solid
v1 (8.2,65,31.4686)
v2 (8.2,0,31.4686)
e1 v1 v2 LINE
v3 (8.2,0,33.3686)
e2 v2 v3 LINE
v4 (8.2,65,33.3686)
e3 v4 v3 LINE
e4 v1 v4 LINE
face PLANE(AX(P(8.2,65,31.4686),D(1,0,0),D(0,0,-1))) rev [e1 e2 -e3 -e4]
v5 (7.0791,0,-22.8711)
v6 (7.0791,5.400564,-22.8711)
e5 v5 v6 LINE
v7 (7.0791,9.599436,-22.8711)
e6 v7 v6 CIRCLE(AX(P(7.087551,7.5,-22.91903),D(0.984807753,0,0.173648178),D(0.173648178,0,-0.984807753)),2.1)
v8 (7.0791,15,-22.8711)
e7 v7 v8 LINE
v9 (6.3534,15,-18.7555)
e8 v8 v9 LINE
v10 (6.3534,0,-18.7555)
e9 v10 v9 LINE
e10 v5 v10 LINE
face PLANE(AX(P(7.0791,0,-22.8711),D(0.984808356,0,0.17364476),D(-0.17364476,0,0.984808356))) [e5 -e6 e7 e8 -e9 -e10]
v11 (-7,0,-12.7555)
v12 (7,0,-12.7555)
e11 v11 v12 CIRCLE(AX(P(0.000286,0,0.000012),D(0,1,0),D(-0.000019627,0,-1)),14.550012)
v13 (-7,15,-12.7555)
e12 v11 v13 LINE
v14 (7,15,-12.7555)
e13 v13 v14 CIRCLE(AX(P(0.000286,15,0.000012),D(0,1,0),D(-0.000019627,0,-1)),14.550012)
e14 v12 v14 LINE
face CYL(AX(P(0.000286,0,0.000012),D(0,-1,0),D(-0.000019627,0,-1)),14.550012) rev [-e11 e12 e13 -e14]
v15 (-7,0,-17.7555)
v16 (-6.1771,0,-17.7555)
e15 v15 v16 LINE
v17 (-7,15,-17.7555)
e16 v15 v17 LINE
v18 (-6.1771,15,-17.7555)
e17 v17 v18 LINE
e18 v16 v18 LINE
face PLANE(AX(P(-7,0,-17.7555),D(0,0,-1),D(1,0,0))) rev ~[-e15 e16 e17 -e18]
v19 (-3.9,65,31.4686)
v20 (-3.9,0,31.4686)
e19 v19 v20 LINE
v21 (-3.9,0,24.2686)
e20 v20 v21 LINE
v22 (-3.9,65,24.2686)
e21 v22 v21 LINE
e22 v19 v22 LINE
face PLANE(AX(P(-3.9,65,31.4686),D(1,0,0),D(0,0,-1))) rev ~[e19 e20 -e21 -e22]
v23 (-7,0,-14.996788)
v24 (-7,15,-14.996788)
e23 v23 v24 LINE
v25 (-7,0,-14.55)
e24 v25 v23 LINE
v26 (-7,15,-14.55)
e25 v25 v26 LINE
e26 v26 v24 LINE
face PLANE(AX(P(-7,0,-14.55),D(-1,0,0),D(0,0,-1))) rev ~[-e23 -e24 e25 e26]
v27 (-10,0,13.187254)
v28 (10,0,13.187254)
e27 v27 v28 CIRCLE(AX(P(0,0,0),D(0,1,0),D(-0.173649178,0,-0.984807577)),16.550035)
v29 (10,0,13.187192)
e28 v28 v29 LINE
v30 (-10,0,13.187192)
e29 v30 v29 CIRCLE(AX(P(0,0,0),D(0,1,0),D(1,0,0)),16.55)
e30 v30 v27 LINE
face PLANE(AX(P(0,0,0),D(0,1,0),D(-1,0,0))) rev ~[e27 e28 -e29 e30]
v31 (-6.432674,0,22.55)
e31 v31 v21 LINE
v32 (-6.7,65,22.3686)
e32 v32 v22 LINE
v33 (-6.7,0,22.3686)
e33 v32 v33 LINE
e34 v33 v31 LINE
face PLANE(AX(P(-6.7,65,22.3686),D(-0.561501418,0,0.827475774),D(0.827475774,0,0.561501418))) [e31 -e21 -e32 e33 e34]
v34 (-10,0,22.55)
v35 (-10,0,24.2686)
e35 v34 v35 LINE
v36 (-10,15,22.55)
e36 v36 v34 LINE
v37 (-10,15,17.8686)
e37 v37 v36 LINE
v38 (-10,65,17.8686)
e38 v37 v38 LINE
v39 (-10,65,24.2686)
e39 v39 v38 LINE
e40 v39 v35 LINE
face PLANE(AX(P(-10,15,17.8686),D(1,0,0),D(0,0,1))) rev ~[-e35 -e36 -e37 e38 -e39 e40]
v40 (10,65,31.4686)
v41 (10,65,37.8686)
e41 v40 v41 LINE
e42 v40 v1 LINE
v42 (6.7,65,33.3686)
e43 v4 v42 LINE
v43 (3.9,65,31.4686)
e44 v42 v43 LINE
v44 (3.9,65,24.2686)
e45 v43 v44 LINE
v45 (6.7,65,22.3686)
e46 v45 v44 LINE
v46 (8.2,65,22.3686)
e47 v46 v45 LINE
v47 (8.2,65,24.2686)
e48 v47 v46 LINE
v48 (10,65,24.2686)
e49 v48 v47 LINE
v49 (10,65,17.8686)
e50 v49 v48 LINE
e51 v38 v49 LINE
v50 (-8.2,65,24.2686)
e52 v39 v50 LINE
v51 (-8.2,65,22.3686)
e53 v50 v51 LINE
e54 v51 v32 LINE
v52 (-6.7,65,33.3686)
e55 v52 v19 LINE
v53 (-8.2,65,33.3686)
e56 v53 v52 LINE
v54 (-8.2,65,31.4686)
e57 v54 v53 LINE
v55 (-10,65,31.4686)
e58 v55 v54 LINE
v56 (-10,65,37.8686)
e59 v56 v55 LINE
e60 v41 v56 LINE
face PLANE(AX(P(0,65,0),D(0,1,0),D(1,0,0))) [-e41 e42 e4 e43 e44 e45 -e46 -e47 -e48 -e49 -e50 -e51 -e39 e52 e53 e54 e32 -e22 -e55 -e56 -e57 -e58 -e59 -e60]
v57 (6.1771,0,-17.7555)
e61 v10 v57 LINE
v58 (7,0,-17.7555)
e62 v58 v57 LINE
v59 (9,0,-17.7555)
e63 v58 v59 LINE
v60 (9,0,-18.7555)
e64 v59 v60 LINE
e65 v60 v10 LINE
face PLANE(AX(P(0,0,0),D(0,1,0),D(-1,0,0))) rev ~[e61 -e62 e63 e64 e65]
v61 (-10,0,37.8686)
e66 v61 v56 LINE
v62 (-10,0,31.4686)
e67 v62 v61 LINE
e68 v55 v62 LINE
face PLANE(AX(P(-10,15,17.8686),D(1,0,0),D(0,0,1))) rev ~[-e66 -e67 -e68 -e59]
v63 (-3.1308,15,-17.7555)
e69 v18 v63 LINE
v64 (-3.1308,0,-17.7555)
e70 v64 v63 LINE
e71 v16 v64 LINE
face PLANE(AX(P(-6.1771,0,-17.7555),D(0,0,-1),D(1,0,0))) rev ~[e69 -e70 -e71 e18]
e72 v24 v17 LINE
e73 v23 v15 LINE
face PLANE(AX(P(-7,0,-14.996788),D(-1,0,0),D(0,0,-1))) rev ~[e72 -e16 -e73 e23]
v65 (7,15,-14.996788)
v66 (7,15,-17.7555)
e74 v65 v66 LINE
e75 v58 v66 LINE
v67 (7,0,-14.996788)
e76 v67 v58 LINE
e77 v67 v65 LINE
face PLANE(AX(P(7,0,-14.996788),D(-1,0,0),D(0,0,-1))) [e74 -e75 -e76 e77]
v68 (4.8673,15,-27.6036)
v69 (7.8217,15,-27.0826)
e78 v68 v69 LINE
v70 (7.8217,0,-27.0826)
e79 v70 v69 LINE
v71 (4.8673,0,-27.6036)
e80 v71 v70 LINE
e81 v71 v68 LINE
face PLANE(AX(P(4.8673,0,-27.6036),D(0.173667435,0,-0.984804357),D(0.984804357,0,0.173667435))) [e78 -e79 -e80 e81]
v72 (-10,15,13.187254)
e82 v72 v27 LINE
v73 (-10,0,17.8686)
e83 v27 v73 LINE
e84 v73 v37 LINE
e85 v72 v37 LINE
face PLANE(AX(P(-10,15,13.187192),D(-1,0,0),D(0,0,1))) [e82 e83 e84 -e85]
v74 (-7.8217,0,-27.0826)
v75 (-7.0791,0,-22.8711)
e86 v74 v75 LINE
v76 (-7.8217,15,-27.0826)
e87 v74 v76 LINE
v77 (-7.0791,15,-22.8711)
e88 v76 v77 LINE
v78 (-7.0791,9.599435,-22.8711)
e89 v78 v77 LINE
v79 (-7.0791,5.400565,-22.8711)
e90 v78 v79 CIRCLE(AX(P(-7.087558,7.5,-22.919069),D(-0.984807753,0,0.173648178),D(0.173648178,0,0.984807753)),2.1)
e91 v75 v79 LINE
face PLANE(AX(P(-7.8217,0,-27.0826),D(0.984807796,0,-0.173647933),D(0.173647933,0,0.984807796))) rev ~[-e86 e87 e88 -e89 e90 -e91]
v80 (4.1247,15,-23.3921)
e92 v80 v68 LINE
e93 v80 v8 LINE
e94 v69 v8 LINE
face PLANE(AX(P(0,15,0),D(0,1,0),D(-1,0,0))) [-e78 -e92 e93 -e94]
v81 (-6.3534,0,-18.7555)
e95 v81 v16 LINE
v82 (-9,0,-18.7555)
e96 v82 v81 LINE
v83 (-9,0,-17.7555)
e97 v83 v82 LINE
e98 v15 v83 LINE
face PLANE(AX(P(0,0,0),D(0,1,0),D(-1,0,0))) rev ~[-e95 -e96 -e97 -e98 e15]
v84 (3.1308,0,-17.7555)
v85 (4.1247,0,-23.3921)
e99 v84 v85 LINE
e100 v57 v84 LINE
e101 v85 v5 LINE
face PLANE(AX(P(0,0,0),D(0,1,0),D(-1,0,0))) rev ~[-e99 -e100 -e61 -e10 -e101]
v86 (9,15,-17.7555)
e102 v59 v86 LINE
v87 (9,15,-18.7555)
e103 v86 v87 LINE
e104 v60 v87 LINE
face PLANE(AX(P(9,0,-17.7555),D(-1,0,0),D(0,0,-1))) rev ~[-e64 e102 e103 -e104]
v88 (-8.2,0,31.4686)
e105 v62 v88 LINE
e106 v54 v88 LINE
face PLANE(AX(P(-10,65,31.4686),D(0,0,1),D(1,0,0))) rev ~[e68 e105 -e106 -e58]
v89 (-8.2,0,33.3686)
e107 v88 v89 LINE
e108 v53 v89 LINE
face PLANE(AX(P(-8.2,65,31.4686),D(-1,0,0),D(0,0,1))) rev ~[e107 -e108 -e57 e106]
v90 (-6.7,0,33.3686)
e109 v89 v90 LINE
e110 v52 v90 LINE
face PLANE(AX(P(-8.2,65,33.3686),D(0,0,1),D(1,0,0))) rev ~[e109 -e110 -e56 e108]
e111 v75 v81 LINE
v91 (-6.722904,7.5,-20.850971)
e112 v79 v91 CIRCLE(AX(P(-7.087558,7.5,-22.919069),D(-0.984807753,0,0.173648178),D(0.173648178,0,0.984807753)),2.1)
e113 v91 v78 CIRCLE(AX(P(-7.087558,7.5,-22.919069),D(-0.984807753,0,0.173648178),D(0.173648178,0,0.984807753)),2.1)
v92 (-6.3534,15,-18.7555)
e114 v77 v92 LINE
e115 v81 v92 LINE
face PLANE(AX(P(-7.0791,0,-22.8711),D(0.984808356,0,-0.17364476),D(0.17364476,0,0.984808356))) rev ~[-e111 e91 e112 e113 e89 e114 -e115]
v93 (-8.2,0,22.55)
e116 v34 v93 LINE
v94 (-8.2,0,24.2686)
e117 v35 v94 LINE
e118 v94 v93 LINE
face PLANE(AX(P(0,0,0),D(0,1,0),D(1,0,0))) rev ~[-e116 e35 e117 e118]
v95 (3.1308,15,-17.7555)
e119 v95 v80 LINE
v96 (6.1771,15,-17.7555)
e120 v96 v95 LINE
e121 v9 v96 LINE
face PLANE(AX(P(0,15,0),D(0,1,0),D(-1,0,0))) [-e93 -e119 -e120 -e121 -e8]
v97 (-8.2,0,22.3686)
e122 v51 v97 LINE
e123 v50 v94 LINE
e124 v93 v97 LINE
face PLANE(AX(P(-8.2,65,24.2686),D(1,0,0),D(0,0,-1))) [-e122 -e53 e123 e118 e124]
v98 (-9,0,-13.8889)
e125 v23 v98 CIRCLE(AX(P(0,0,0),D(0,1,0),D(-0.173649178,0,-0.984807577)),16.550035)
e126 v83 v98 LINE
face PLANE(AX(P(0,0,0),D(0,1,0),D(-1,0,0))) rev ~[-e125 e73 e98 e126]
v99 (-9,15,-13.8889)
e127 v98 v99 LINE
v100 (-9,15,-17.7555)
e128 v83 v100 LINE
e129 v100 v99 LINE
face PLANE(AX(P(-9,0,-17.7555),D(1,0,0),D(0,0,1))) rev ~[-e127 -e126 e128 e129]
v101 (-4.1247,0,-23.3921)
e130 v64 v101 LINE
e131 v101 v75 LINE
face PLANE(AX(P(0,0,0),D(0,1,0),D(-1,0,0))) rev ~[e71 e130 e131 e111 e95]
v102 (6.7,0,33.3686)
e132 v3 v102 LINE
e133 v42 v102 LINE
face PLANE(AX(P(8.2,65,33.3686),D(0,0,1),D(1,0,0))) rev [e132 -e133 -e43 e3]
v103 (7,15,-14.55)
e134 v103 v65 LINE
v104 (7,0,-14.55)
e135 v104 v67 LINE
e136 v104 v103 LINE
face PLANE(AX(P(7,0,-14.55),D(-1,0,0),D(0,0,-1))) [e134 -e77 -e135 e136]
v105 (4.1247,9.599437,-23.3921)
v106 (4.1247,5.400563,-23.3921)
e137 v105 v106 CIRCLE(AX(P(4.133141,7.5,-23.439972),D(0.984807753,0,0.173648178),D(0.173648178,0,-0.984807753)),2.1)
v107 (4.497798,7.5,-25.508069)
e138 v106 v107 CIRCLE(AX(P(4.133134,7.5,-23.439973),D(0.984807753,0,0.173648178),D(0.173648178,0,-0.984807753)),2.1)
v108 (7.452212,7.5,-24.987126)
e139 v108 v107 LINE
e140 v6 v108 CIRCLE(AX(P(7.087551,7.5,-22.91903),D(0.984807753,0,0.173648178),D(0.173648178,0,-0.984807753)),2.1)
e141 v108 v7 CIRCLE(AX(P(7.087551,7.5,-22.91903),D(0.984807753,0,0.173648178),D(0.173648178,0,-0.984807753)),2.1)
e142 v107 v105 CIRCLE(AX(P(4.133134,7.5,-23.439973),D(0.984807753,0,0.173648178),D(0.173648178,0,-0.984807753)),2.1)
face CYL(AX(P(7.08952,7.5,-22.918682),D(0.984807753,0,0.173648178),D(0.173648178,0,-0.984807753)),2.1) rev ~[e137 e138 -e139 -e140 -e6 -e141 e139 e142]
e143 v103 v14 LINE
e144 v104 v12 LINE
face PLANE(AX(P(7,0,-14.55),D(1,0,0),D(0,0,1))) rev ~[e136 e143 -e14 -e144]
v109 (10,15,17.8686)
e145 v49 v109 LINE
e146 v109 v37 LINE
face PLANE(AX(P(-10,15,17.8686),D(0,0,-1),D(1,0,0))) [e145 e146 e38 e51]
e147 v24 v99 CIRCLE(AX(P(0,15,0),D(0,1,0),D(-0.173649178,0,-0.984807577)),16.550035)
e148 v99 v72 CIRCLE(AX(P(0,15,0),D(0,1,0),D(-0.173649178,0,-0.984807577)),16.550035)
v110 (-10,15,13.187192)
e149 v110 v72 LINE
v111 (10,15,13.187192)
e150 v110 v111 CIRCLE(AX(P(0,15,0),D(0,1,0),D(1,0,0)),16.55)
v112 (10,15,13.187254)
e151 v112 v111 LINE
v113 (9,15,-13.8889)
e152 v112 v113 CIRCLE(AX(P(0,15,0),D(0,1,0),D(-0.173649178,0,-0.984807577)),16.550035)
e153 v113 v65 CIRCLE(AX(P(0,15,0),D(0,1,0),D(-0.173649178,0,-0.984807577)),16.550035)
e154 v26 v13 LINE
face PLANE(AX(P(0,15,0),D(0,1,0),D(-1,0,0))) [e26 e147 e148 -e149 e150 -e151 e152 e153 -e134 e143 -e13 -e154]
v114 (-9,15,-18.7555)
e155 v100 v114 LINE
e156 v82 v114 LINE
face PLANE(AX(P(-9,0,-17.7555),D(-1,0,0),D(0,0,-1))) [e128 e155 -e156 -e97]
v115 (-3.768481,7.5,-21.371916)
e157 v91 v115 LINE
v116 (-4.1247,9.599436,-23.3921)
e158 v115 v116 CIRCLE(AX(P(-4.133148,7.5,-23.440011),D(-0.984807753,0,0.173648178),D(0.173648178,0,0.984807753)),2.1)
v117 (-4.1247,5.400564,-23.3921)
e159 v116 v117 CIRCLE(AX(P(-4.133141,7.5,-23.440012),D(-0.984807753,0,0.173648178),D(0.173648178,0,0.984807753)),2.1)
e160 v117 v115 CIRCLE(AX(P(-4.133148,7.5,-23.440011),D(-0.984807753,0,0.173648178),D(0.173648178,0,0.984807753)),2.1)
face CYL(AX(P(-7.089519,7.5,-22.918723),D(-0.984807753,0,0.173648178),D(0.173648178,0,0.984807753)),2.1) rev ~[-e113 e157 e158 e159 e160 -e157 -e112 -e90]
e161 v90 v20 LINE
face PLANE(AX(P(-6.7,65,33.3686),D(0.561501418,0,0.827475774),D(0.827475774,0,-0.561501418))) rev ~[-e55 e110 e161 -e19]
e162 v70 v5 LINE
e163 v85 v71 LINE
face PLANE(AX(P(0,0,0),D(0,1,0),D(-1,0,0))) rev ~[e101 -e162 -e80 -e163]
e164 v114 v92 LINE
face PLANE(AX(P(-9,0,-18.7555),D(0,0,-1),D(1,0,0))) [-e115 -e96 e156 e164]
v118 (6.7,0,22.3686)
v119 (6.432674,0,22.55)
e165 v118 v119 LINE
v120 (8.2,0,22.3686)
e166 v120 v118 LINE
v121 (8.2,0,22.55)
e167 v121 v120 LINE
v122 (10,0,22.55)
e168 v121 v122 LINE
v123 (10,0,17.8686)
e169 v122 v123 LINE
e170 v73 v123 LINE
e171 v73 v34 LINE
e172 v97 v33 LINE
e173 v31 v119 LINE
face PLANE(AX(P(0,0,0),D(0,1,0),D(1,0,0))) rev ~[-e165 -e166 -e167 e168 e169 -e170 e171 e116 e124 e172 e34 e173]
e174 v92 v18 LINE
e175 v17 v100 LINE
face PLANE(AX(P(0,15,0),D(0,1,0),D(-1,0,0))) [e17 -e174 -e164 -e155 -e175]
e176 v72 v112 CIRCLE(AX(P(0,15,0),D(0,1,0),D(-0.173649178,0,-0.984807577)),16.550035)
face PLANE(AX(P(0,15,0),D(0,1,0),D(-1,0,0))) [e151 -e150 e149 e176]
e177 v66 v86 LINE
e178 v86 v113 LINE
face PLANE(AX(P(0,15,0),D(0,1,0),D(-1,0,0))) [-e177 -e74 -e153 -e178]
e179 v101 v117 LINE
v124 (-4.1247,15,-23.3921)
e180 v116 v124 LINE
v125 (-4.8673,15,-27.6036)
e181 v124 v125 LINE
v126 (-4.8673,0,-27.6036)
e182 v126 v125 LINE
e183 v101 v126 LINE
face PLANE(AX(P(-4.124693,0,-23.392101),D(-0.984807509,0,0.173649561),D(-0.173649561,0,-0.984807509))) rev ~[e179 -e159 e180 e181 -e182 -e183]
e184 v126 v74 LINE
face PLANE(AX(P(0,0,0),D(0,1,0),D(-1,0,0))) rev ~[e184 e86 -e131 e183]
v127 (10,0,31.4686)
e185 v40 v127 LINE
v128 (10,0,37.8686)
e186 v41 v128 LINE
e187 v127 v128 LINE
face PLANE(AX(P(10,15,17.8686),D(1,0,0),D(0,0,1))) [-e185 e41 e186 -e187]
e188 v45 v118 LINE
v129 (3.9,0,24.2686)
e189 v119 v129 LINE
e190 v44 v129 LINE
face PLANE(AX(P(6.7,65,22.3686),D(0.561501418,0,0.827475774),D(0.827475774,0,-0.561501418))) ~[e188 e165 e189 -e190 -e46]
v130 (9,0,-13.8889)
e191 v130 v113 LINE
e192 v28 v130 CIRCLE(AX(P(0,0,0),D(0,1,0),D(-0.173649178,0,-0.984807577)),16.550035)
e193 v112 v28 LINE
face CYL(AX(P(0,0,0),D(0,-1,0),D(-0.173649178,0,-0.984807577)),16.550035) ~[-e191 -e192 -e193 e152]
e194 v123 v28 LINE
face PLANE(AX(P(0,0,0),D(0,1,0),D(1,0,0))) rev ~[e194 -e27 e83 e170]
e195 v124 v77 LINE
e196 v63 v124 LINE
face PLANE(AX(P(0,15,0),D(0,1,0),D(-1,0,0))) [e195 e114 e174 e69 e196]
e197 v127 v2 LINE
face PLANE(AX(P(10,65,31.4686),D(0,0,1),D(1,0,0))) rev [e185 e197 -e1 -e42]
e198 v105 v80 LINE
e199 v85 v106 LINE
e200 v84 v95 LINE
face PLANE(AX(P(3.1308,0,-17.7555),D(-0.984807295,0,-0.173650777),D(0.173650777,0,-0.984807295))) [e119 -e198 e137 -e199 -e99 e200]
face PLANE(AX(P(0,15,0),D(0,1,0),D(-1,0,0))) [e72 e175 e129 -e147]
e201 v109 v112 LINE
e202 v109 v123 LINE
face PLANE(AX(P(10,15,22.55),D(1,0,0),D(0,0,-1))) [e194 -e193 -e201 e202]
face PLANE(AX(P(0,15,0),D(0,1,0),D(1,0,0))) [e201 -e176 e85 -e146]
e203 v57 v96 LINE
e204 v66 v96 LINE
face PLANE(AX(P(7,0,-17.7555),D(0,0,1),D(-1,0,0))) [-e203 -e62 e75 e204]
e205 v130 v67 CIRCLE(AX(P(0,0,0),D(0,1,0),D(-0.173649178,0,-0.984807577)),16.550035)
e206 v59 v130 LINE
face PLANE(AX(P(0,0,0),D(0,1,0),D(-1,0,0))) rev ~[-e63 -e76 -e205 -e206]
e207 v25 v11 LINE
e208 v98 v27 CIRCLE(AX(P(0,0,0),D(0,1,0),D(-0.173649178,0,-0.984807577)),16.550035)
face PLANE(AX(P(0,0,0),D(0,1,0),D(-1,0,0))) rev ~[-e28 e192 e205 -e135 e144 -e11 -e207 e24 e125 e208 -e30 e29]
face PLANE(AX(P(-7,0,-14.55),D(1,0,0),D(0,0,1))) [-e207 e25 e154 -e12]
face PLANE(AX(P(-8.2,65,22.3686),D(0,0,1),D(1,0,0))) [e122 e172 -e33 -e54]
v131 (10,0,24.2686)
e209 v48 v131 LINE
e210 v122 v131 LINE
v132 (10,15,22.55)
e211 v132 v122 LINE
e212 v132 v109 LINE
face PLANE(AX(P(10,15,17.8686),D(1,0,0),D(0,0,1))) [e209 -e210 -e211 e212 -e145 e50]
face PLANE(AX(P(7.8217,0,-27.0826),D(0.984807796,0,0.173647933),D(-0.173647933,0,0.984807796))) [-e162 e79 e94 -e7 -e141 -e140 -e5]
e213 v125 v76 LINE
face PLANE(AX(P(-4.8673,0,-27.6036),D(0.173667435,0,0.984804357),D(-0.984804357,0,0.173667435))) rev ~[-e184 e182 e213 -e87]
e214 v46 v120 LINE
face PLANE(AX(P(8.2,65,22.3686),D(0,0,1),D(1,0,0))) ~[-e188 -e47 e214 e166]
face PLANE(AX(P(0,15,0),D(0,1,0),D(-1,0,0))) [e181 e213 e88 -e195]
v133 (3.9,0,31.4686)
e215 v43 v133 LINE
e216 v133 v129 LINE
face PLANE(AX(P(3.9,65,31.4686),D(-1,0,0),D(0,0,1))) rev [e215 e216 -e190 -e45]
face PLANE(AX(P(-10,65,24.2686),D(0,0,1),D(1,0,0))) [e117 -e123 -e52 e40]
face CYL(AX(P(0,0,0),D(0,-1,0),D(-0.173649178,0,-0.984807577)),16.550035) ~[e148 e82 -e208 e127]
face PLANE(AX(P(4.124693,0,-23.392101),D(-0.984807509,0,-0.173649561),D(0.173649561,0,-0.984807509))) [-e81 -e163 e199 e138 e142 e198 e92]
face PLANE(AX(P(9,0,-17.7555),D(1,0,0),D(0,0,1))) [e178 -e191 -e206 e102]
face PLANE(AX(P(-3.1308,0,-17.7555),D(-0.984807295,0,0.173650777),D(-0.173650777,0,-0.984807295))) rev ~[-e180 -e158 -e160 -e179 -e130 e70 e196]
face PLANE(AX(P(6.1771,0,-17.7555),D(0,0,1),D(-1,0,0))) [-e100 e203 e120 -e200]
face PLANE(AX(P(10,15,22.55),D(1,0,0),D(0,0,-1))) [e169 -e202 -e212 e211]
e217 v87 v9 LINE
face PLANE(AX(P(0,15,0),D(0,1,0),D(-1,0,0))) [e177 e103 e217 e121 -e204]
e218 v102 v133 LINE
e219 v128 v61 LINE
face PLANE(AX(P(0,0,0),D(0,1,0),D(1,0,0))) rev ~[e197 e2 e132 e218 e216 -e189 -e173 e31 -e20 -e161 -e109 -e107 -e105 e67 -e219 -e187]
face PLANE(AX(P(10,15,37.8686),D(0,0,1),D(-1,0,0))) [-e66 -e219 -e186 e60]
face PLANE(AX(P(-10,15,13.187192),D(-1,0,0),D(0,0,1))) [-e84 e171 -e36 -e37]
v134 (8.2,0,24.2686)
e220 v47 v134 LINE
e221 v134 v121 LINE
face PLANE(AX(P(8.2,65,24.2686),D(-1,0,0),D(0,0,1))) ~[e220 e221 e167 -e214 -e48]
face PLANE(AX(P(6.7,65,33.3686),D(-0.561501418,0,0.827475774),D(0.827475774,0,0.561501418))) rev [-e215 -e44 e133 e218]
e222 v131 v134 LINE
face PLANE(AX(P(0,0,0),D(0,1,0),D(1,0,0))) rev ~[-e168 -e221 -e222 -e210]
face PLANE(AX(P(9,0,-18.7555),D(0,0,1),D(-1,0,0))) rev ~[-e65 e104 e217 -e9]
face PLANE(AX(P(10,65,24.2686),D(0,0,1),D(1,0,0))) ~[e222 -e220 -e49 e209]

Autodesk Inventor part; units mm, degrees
ref_plane "YZ Plane" through (0, 0, 0) normal (1, 0, 0) x (0, 1, 0)
ref_plane "XZ Plane" through (0, 0, 0) normal (0, 1, 0) x (-1, 0, 0)
ref_plane "XY Plane" through (0, 0, 0) normal (0, 0, 1) x (1, 0, 0)
sketch "스케치1" plane through (0, 0, 0) normal (0, 1, 0) x (-1, 0, 0)
  arc A0 (0, -14.55) -> (-2.5266, -14.329) centre (0, 0) ccw
  line L0 (-2.5656, -14.55) -> (-7, -14.55)
  line L1 (7, -14.55) -> (7, -12.7555)
  line L2 (-7, -14.55) -> (-7, -12.7555)
  arc A1 (2.8739, -16.2986) -> (-2.8739, -16.2986) centre (0, 0) ccw
  line L3 (7, -12.7555) -> (7, -17.7555)
  line L4 (-7, -12.7555) -> (-7, -17.7555)
  line L5 (-7, -17.7555) -> (-9, -17.7555)
  line L6 (-9, -17.7555) -> (-9, -13.8889)
  line L7 (7, -17.7555) -> (9, -17.7555)
  line L8 (9, -17.7555) -> (9, -13.8889)
  line L9 (0, 0) -> (23.7529, 0) construction
  line L10 (0, 0) -> (23.7529, 0) construction
  line L11 (4.1247, -23.3921) -> (7.0791, -22.8711)
  line L12 (7.0791, -22.8711) -> (6.1771, -17.7555)
  line L13 (-4.1247, -23.3921) -> (-7.0791, -22.8711)
  line L14 (-7.0791, -22.8711) -> (-6.1771, -17.7555)
  line L15 (-7, -17.7555) -> (-3.1308, -17.7555)
  line L16 (-9, -17.7555) -> (-9, -18.7555)
  line L17 (-9, -18.7555) -> (-6.3534, -18.7555)
  line L18 (9, -17.7555) -> (9, -18.7555)
  line L19 (9, -18.7555) -> (6.3534, -18.7555)
  line L20 (7, -17.7555) -> (6.1771, -17.7555)
  line L21 (6.1771, -17.7555) -> (3.1308, -17.7555)
  line L22 (0, 0) -> (-2.8739, -16.2986)
  line L23 (-3.1308, -17.7555) -> (-4.1247, -23.3921)
  line L24 (0, 0) -> (2.8739, -16.2986)
  line L25 (3.1308, -17.7555) -> (4.1247, -23.3921)
  line L26 (-7, -14.55) -> (-2.5656, -14.55)
  line L27 (0, -14.55) -> (7, -14.55)
  line L28 (3.1308, -17.7555) -> (4.8673, -27.6036)
  line L29 (4.8673, -27.6036) -> (7.8217, -27.0826)
  line L30 (7.8217, -27.0826) -> (7.0791, -22.8711)
  line L31 (-3.1308, -17.7555) -> (-4.8673, -27.6036)
  line L32 (-4.8673, -27.6036) -> (-7.8217, -27.0826)
  line L33 (-7.8217, -27.0826) -> (-7.0791, -22.8711)
  point P0 (-7, -14.9967)
  dimension "d0" = 29.1
  dimension "d1" = 7
  dimension "d2" = 14
  dimension "d3" = 2
  dimension "d4" = 5
  dimension "d5" = 2
  dimension "d6" = 2
  dimension "d7" = 5
  dimension "d10" = 3
  dimension "d11" = 1
  dimension "d14" = 10
  dimension "d15" = 10
extrude "돌출1" add sketch "스케치1" along normal blind 15 contours A0 L2 L4 A1 L3 L1 | A1 L8 L7 L3 | L4 L5 L6 A1 | L7 L18 L19 L12 L20 | L15 L14 L17 L16 L5 | L12 L11 L25 L21 | L15 L23 L13 L14 | L30 L29 L28 L11 | L13 L31 L32 L33
sketch "스케치2" plane through (7.8217, 0, -27.0826) normal (0.9848, 0, 0.1736) x (0.1736, 0, -0.9848)
  line L0 (0, 0) -> (0, 15) projected
  line L1 (-8.4556, 0) -> (-8.4556, 15) projected
  line L2 (0, 15) -> (-8.4556, 15)
  circle A0 centre (-4.2278, 7.5) radius 2.1
  point P0 (-28.0294, 0)
  dimension "d16" = 4.2
extrude "돌출2" cut sketch "스케치2" against normal up to surface (3 mm away)
sketch "스케치3" plane through (-6.3534, 0, -18.7555) normal (-0.9848, 0, 0.1736) x (0.1736, 0, 0.9848)
  line L0 (1.5444, 0) -> (-8.4556, 0) projected
  line L1 (0, 0) -> (0, 15) projected
  line L2 (-8.4556, 0) -> (0, 0)
  circle A0 centre (-4.2278, 7.5) radius 2.1
  point P0 (19.5738, 0)
  dimension "d19" = 4.2
extrude "돌출3" cut sketch "스케치3" against normal up to surface (3 mm away)
sketch "스케치4" plane through (0, 15, 0) normal (0, 1, 0) x (1, 0, 0)
  circle A0 centre (0, 0) radius 16.55
  line L0 (-10, -22.55) -> (10, -22.55)
  line L1 (10, -22.55) -> (10, -10.55)
  line L2 (10, -10.55) -> (-10, -10.55)
  line L3 (-10, -10.55) -> (-10, -22.55)
  arc A1 (-9, 13.8889) -> (9, 13.8889) centre (0, 0) ccw projected
  line L4 (-10, -22.55) -> (10, -10.55) construction
  line L5 (10, -22.55) -> (-10, -10.55) construction
  point P0 (0, -16.55)
  point P1 (10, -13.1872)
  point P2 (-10, -13.1872)
  dimension "d22" = 20
  dimension "d23" = 12
extrude "돌출4" add sketch "스케치4" against normal up to surface (15 mm away) contours L1 L0 L3 A0
sketch "스케치5" plane through (0, 15, 0) normal (0, 1, 0) x (1, 0, 0)
  line L0 (-10, -13.1872) -> (-10, -22.55) projected
  line L1 (-10, -17.8686) -> (10, -17.8686)
  line L2 (10, -17.8686) -> (10, -37.8686)
  line L3 (10, -37.8686) -> (-10, -37.8686)
  line L4 (-10, -37.8686) -> (-10, -17.8686)
  point P0 (0, 0)
  dimension "d26" = 20
  dimension "d27" = 20
extrude "돌출5" add sketch "스케치5" along normal blind 50 and the other way blind 15
sketch "스케치6" plane through (0, 65, 0) normal (0, 1, 0) x (1, 0, 0)
  line L0 (-10, -13.1872) -> (-10, -17.8686) projected
  line L1 (-10, -37.8686) -> (-10, -13.1872) projected
  line L2 (-10, -17.8686) -> (-10, -37.8686)
  line L3 (-10, -37.8686) -> (-10, -27.8686)
  line L4 (-10, -27.8686) -> (-10, -24.7686)
  line L5 (-10, -27.8686) -> (-10, -24.2686)
  line L6 (-10, -27.8686) -> (-10, -22.3686)
  line L7 (-10, -24.2686) -> (-8.2, -24.2686)
  line L8 (-8.2, -24.2686) -> (-8.2, -22.3686)
  line L9 (-8.2, -22.3686) -> (-6.7, -22.3686)
  line L10 (-10, -22.3686) -> (-3.9, -22.3686)
  line L11 (-6.7, -22.3686) -> (-3.9, -24.2686)
  line L12 (-3.9, -24.2686) -> (-3.9, -27.8686)
  line L13 (-10, -27.8686) -> (-3.9, -27.8686)
  line L14 (-10, -31.4686) -> (-8.2, -31.4686)
  line L15 (-8.2, -31.4686) -> (-8.2, -33.3686)
  line L16 (-8.2, -33.3686) -> (-6.7, -33.3686)
  line L17 (-6.7, -33.3686) -> (-3.9, -31.4686)
  line L18 (-3.9, -31.4686) -> (-3.9, -27.8686)
  line L19 (-10, -27.8686) -> (-10, -17.8686)
  point P0 (0, 0)
  point P1 (-10, -31.4686)
  dimension "d32" = 3.1
  dimension "d33" = 3.6
  dimension "d34" = 5.5
  dimension "d35" = 1.8
  dimension "d36" = 1.5
  dimension "d37" = 6.1
  dimension "d40" = 10
extrude "돌출6" cut sketch "스케치6" against normal through all contours L1 L13 L18 L17 L16 L15 L14 | L1 L7 L8 L9 L11 L12 L13
mirror "미러1" about plane through (0, 0, 0) normal (1, 0, 0) of "돌출6"
properties part number "USB_camera"
